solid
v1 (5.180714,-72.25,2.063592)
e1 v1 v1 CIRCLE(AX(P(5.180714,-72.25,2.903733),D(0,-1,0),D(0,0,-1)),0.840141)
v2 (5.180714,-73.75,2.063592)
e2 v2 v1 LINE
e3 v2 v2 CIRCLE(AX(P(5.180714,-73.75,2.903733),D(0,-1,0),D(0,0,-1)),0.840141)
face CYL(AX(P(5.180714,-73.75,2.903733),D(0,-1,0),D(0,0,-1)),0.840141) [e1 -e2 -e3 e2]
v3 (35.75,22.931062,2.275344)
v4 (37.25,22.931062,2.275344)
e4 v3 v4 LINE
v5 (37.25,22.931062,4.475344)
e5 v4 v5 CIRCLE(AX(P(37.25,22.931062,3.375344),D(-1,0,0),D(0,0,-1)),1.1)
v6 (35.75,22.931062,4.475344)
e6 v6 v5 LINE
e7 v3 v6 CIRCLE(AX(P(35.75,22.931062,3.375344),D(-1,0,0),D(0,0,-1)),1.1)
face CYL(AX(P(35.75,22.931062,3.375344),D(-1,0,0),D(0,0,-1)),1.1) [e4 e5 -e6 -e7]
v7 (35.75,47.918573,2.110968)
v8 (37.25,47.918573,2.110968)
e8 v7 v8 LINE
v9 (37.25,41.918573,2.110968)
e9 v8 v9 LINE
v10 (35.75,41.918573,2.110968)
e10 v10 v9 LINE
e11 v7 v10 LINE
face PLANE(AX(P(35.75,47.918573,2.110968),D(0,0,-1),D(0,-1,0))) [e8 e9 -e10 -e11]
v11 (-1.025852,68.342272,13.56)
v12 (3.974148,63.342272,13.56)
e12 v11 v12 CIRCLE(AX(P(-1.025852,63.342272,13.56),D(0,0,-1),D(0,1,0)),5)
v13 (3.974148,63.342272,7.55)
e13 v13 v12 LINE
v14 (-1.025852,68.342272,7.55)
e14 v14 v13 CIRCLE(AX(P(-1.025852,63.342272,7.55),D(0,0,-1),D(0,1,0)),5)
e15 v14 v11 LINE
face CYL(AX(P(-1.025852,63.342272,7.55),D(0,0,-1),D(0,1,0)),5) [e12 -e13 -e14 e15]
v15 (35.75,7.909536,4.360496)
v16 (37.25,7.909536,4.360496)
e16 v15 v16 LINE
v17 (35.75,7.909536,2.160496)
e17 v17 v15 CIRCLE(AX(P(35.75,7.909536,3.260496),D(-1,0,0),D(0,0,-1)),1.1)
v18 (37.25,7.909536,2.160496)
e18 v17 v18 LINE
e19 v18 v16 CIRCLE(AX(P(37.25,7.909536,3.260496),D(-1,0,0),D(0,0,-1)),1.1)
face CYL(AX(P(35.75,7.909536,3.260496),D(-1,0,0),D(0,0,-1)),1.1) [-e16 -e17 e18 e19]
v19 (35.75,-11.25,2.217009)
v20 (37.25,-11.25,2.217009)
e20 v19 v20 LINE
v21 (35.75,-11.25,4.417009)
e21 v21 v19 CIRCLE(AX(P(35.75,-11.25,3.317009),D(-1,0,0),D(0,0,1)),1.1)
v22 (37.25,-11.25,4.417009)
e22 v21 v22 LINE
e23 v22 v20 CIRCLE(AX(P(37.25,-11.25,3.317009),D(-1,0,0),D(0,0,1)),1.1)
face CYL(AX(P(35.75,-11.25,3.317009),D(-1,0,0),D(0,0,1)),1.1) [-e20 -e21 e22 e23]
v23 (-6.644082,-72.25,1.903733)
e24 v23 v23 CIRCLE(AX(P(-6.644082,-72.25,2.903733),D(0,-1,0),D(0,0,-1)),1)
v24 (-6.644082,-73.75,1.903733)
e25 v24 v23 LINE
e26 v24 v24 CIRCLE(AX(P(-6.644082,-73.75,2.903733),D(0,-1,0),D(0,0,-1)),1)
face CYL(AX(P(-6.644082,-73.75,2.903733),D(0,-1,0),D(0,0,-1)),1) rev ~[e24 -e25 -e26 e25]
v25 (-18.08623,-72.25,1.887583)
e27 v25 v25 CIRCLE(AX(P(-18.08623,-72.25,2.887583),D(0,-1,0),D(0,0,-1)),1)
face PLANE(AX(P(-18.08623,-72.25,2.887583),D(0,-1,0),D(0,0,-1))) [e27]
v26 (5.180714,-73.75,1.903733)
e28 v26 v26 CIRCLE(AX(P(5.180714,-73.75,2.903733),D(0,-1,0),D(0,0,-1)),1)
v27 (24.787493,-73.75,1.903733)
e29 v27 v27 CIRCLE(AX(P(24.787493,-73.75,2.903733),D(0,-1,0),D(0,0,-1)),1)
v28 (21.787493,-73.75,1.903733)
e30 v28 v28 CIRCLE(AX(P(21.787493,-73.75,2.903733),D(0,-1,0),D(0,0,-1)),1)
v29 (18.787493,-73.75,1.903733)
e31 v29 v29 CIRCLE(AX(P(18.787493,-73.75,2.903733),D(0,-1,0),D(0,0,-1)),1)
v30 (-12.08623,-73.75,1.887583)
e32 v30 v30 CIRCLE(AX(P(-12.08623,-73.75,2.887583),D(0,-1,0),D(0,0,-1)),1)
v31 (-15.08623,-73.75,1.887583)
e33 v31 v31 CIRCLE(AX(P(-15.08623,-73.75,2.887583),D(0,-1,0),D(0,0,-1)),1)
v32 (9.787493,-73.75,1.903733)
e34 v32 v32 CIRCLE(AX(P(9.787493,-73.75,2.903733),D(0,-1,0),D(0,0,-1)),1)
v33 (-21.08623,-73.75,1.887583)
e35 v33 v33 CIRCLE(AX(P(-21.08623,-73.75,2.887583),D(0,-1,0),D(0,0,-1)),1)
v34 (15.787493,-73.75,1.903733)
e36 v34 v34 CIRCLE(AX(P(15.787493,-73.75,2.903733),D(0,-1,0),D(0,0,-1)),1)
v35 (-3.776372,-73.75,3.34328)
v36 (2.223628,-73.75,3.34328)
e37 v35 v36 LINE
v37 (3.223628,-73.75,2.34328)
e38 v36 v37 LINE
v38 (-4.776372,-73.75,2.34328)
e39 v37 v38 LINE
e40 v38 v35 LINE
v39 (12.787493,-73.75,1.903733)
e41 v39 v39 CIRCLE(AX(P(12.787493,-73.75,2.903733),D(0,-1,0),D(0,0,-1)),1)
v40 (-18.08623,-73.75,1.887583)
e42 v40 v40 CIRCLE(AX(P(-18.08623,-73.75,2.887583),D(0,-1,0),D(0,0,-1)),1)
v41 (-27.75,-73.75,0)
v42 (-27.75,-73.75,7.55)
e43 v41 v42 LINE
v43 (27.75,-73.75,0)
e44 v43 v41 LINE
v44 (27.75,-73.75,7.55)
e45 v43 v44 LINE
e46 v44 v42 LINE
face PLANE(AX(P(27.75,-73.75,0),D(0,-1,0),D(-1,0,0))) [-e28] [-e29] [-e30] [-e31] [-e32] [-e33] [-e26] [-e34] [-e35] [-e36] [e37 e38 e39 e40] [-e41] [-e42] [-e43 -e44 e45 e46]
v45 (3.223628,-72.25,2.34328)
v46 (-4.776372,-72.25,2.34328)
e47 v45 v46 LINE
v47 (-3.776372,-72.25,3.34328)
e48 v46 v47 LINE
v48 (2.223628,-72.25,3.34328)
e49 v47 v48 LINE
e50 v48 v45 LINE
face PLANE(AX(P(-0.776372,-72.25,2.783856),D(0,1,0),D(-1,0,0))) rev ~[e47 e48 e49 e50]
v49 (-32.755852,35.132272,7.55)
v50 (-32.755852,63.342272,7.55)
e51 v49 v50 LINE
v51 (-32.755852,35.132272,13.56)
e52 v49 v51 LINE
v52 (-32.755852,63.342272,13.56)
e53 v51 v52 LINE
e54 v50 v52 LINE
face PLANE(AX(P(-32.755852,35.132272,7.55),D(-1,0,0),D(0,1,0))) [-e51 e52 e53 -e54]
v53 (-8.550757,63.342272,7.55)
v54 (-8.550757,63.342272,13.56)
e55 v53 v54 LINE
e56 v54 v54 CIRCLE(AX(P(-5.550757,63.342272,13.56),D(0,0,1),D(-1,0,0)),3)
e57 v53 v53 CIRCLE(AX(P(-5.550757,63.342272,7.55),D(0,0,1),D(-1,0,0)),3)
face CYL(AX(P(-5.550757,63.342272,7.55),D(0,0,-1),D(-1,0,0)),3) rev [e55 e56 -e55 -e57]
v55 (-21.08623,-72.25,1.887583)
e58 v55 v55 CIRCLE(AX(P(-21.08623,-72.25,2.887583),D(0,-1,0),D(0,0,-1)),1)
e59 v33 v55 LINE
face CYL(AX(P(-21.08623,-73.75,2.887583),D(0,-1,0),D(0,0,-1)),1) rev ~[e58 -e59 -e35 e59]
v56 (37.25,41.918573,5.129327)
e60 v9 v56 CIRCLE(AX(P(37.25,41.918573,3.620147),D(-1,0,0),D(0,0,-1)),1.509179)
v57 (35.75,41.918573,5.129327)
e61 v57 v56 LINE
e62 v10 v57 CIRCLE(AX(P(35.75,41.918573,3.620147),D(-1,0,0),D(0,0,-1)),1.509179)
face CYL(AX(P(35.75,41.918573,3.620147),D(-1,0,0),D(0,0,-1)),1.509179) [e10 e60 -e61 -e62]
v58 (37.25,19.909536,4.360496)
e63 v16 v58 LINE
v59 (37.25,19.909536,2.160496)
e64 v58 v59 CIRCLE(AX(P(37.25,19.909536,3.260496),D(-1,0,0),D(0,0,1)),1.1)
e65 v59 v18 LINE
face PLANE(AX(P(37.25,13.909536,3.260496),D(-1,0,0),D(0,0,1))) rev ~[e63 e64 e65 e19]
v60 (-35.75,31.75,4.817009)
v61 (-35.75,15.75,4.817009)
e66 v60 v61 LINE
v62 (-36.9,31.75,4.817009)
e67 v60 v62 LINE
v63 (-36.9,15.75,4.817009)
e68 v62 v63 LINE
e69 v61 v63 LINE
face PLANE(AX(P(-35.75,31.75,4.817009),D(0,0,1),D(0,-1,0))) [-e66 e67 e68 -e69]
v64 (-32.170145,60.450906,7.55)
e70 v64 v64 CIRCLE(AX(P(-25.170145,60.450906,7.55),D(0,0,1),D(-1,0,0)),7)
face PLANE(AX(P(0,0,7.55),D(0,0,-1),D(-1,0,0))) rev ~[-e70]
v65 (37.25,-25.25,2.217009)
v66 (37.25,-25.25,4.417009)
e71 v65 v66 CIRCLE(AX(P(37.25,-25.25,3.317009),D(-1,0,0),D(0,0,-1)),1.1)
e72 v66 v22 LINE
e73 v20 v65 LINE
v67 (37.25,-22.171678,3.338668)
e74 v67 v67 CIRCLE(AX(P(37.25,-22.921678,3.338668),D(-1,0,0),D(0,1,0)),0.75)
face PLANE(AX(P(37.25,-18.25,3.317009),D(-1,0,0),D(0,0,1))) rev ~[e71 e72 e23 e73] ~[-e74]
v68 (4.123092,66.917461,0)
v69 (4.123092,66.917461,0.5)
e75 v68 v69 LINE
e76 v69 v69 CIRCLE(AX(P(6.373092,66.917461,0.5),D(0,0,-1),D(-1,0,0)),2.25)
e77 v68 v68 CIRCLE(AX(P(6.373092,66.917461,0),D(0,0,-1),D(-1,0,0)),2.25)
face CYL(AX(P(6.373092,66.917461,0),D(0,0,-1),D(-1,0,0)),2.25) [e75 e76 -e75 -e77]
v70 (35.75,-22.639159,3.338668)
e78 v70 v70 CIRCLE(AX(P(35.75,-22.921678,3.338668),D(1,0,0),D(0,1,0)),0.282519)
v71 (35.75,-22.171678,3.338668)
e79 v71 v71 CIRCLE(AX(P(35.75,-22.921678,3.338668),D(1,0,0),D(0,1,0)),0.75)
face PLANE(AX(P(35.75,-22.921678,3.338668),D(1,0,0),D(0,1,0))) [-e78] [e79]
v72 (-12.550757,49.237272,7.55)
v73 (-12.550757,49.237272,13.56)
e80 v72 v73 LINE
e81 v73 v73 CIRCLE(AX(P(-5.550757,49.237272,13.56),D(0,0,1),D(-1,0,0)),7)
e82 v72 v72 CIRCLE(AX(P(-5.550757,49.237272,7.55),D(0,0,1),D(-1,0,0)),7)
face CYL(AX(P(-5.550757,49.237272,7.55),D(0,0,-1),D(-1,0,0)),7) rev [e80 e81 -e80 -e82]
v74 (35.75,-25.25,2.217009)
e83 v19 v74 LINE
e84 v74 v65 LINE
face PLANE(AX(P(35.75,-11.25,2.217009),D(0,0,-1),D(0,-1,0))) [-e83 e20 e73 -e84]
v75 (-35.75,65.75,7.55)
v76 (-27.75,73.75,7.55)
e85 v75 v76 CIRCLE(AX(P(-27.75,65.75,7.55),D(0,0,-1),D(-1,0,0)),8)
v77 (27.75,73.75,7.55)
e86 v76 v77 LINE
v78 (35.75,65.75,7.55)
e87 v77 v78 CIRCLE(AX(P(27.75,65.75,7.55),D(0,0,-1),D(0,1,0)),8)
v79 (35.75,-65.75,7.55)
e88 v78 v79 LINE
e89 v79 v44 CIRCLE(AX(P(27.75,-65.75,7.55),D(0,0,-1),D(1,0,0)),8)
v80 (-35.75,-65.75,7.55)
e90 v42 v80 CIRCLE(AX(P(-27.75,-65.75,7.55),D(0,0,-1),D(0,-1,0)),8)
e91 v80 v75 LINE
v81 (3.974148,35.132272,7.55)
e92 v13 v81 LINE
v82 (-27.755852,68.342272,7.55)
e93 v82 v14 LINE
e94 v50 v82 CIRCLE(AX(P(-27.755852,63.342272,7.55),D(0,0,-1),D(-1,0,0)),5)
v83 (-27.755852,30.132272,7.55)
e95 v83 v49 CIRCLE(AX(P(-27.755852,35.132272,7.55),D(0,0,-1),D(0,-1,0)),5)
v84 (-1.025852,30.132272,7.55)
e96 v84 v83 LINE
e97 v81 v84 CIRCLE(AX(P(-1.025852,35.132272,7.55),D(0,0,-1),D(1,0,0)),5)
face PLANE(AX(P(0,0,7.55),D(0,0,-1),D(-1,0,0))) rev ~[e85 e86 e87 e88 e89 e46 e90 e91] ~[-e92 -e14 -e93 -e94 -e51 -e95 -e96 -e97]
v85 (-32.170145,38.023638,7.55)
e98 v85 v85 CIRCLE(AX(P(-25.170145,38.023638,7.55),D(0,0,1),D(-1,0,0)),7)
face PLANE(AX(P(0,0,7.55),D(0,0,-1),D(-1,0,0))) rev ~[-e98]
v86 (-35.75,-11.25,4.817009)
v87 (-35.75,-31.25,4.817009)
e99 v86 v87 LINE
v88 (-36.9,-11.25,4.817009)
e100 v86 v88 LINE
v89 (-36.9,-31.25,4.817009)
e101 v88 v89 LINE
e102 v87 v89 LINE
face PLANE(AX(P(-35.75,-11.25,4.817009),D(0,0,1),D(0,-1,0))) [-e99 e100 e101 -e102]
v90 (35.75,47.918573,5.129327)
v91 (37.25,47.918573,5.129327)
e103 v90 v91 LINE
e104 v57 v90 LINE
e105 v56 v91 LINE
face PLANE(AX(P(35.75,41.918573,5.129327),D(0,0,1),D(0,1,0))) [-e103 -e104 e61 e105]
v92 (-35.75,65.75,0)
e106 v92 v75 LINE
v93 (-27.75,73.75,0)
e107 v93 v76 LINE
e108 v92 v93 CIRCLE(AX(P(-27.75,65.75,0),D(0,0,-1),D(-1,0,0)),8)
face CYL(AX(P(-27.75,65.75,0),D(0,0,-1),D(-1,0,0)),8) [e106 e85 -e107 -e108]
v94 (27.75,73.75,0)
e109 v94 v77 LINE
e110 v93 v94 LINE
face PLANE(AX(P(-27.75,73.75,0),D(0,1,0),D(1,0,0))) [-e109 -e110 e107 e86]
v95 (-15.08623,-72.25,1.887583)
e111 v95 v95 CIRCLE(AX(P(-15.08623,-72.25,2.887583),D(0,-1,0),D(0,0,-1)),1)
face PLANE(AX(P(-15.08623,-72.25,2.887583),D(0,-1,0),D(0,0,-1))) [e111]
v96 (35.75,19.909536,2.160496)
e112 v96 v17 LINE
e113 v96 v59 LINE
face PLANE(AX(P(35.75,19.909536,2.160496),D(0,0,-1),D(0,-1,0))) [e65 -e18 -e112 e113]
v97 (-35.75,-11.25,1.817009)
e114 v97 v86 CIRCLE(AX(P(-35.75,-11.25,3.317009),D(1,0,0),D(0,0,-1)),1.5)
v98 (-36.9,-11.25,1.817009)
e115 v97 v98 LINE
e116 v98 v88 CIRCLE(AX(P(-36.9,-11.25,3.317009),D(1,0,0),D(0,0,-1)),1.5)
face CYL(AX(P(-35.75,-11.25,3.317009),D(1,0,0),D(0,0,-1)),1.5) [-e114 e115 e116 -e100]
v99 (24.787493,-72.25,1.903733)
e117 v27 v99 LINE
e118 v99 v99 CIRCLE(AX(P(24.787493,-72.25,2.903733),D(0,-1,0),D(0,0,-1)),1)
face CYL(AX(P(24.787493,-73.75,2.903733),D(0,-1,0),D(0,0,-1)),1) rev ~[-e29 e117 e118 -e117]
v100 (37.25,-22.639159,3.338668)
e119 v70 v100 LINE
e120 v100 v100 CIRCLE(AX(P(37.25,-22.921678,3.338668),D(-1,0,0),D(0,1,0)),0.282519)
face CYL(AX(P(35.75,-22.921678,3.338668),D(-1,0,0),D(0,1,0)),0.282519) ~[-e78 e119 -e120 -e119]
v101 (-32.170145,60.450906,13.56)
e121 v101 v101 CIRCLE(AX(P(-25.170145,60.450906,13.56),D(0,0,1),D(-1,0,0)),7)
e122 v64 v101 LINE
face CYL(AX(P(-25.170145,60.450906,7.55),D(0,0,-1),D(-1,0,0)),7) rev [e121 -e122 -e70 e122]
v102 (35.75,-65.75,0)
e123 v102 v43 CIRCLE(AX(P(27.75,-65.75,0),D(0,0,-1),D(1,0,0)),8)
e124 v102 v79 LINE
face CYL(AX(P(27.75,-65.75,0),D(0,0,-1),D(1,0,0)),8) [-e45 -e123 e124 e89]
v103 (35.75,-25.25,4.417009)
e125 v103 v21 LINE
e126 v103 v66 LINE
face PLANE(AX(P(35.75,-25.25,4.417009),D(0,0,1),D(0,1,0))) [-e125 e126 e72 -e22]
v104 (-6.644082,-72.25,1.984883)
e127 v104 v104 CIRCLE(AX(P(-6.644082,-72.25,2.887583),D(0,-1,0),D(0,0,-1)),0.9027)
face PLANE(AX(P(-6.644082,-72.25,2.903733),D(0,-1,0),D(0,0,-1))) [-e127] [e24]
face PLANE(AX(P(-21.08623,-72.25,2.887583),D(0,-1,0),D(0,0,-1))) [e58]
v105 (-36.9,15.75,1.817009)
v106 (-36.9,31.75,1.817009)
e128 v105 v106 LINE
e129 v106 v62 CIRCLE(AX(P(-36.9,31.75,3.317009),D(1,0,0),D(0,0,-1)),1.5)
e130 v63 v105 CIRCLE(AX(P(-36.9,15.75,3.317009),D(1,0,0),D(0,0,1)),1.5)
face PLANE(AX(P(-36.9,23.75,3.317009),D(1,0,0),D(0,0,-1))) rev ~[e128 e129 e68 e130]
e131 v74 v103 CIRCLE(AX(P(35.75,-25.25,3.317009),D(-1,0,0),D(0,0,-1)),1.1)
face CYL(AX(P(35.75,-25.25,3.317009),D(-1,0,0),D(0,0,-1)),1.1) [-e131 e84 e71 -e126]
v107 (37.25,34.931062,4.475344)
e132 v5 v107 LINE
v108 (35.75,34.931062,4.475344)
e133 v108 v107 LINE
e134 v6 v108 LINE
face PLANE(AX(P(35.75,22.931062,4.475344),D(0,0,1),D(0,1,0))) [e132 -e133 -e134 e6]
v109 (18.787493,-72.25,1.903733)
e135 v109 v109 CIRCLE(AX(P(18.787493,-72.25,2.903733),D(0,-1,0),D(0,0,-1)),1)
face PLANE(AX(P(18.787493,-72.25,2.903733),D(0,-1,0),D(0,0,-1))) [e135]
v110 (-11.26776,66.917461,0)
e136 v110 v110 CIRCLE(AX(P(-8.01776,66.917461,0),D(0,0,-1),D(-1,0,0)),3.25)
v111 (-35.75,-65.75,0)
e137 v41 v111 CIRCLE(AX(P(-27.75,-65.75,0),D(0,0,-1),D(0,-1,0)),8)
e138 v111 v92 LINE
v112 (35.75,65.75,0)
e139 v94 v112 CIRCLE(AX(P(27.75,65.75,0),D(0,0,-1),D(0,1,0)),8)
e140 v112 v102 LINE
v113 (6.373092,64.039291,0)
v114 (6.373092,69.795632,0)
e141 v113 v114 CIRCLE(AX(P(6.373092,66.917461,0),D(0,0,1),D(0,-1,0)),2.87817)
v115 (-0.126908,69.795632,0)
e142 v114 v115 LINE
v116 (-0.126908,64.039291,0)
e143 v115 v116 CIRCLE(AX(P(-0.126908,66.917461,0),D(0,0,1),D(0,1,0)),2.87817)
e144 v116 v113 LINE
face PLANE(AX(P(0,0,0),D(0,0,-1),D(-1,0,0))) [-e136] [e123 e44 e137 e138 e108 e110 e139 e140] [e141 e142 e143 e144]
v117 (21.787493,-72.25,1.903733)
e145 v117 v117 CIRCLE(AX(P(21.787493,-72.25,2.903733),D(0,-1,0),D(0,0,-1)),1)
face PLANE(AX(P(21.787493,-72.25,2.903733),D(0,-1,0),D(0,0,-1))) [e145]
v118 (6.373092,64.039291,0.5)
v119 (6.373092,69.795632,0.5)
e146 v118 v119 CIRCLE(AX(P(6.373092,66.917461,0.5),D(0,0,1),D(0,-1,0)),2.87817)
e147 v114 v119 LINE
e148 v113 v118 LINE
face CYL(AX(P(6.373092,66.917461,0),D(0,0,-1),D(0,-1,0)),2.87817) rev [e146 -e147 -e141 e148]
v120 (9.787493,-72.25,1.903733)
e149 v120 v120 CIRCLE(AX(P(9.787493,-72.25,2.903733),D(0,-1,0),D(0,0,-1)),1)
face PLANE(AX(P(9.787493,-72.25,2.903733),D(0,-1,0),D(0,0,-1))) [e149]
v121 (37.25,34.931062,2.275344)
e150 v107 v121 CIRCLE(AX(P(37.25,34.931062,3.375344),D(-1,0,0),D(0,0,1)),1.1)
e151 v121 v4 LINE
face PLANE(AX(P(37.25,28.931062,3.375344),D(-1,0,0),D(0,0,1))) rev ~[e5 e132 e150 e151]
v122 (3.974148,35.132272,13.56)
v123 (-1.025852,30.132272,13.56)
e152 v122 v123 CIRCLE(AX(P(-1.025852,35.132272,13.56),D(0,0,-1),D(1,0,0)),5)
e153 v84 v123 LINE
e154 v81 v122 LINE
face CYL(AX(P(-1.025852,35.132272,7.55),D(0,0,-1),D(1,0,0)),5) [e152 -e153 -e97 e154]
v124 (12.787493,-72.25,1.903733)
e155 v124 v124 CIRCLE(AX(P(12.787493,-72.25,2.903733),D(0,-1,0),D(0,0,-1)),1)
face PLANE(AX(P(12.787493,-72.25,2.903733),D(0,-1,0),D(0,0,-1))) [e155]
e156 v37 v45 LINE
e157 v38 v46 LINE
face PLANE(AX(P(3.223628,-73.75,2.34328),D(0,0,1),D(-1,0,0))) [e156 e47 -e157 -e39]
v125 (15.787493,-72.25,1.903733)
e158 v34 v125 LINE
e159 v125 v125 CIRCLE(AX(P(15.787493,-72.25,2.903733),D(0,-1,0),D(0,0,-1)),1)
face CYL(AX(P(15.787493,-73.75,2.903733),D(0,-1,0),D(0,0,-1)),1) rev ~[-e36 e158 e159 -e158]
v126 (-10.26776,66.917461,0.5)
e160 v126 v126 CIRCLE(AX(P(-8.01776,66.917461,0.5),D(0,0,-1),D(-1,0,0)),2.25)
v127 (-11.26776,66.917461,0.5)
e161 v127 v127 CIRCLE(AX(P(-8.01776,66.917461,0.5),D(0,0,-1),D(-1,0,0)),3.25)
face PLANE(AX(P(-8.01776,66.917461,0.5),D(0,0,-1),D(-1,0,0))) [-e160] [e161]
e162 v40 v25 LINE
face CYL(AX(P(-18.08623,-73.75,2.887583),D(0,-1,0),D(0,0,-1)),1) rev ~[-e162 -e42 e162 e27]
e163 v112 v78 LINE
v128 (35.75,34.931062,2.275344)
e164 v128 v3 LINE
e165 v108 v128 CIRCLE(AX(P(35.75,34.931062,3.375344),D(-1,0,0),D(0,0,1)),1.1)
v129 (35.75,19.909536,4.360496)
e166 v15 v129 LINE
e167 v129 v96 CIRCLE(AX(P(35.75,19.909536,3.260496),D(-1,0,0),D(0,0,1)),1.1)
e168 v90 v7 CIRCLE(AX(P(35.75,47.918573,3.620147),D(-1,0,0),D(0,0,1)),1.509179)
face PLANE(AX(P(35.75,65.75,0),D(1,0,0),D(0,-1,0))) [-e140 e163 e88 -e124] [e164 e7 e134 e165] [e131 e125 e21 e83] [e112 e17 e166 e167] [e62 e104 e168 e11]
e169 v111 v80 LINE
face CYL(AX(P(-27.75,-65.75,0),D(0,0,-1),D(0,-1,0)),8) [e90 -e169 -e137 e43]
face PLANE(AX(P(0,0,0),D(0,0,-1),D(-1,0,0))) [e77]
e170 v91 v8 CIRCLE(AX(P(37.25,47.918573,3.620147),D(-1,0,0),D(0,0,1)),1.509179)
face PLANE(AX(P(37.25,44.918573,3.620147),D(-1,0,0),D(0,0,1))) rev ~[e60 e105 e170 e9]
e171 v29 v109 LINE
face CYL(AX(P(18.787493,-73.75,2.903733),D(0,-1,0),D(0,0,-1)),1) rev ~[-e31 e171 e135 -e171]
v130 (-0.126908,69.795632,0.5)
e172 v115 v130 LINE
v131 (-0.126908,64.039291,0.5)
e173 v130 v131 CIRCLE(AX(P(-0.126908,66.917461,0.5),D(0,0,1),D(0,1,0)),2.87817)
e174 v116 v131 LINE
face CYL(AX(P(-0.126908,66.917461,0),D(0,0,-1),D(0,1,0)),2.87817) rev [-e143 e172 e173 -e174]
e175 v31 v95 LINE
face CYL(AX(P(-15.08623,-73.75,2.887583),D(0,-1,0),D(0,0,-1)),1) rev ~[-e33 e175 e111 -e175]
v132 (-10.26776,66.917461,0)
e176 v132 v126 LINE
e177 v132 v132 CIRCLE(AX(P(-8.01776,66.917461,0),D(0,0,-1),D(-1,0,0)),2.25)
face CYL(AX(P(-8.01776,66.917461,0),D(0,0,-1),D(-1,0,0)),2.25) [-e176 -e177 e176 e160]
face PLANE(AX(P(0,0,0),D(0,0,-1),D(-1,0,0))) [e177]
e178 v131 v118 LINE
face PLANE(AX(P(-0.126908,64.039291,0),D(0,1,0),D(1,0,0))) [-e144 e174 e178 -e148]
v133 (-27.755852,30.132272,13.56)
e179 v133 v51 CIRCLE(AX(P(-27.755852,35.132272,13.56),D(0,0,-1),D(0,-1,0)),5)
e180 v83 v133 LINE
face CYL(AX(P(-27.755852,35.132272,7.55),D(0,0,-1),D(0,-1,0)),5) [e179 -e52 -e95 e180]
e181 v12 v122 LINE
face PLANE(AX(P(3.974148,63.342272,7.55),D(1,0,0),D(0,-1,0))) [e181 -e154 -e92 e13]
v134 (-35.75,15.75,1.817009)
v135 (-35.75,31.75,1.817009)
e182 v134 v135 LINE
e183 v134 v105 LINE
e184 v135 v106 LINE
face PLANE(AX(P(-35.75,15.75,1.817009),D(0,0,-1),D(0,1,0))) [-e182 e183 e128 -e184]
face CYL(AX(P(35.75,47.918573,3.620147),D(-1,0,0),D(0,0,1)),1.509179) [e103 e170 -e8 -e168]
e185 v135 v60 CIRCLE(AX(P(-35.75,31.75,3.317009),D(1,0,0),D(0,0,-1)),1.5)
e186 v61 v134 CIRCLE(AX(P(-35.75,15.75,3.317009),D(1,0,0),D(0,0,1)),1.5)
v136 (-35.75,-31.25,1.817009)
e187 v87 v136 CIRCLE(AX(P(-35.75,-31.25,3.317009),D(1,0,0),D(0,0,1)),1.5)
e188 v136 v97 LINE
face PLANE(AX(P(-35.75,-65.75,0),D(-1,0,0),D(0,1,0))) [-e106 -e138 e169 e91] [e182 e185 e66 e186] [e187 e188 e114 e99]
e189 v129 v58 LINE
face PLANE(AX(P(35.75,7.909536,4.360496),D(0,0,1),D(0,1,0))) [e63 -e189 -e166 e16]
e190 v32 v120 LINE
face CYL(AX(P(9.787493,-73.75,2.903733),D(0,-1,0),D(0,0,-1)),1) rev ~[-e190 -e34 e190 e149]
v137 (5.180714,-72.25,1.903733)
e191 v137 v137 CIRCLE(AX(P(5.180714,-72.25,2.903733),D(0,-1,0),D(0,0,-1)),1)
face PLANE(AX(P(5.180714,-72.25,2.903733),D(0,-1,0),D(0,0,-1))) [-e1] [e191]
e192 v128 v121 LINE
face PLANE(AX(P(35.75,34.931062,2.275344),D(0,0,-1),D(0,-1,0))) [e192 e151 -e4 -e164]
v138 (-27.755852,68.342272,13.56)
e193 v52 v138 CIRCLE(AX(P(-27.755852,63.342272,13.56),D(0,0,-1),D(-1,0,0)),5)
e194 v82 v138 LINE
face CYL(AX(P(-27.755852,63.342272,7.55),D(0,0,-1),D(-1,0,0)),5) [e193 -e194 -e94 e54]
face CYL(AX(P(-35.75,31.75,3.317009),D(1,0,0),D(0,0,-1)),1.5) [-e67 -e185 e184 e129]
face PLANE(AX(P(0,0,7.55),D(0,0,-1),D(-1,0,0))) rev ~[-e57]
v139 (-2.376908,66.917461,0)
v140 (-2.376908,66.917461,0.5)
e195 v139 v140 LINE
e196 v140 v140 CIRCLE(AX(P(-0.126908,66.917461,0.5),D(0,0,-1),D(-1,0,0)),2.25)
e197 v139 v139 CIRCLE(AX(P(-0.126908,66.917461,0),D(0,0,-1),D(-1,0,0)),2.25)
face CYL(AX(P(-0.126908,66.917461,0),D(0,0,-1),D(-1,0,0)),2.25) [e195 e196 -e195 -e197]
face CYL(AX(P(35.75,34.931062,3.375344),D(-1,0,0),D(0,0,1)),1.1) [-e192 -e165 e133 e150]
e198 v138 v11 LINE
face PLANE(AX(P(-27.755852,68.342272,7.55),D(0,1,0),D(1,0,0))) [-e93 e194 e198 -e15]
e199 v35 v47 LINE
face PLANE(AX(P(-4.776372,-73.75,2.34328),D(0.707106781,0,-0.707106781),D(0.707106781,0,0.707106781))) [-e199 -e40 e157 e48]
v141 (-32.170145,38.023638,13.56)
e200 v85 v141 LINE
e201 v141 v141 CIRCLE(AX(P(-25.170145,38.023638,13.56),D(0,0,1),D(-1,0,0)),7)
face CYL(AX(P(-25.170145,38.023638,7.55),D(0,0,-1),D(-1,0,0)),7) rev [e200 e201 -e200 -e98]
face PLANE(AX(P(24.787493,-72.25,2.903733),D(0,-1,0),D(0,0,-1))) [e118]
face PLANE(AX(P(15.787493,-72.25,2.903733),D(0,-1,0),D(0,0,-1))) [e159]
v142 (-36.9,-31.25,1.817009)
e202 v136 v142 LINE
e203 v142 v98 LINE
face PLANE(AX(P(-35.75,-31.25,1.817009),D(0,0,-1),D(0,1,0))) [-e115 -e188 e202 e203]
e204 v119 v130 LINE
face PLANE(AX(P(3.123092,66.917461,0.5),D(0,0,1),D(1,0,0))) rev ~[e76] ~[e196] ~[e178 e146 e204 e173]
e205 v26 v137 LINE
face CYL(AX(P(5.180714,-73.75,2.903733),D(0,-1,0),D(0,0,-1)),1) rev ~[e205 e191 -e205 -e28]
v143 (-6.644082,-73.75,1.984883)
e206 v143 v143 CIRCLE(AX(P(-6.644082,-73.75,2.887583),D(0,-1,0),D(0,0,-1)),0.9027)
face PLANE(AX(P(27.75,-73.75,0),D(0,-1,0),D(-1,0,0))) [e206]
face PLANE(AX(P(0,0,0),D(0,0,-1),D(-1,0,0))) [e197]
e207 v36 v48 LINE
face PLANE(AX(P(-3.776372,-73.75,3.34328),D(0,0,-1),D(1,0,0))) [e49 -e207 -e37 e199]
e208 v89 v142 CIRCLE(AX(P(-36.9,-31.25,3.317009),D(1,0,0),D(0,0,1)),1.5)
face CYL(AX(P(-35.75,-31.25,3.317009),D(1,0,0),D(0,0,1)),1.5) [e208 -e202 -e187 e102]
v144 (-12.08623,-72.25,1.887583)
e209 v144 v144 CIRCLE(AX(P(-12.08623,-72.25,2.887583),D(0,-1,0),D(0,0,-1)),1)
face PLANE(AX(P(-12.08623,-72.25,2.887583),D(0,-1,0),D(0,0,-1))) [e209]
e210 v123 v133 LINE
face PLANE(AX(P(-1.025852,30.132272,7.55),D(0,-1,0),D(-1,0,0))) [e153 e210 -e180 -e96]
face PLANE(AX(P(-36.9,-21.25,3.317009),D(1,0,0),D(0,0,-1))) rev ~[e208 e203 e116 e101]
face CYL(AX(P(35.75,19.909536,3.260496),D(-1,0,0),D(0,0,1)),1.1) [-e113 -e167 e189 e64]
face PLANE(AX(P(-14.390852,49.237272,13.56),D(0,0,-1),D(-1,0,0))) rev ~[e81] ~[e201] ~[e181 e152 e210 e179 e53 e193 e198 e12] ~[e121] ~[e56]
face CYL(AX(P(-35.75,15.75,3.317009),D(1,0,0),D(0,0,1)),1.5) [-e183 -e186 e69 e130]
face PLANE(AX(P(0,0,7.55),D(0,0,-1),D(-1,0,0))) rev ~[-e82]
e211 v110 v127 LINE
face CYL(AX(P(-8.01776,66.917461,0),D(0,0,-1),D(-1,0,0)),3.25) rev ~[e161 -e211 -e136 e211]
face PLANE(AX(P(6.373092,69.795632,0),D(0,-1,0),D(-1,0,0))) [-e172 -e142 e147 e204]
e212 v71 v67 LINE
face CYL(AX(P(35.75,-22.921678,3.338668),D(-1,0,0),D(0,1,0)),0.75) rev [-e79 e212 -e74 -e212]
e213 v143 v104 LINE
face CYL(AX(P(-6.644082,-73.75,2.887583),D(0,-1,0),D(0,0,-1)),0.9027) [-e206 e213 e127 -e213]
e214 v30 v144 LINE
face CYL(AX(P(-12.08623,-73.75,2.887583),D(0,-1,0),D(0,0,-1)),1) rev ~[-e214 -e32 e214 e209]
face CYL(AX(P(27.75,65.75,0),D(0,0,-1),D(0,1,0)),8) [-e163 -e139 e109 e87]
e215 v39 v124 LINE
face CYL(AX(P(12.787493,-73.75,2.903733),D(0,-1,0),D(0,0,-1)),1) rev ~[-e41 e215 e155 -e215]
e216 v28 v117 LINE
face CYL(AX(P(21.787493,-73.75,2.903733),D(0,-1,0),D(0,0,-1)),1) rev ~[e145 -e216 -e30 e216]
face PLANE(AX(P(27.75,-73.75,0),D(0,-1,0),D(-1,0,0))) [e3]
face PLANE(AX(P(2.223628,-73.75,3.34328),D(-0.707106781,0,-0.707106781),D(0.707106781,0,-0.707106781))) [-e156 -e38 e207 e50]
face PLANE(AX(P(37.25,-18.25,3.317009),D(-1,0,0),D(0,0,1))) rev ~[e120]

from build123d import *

# Parameters (mm, degrees)
BOSS_EXTRUDE1_DEPTH = 7.55
SKETCH4_R           = 3
SKETCH4_R_2         = 7
BOSS_EXTRUDE2_DEPTH = 6.01
SKETCH5_R           = 3.25
SKETCH5_R_2         = 2.25
CUT_EXTRUDE1_DEPTH  = 0.5
BOSS_EXTRUDE3_DEPTH = 1.15
BOSS_EXTRUDE4_DEPTH = 1.5
BOSS_EXTRUDE5_DEPTH = 1.5
BOSS_EXTRUDE6_DEPTH = 1.5
BOSS_EXTRUDE7_DEPTH = 1.5
SKETCH15_R          = 0.75
SKETCH15_R_2        = 0.282518913
CUT_EXTRUDE2_DEPTH  = 105.40765585
SKETCH16_R          = 1
SKETCH16_R_2        = 0.902700303
SKETCH16_R_3        = 0.840140681
CUT_EXTRUDE3_DEPTH  = 1.5


with BuildPart() as part:
    # Sketch2 → Boss-Extrude1 (new body)
    with BuildSketch(Plane.XY):
        with BuildLine():
            Line((-27.75, 73.75), (27.75, 73.75))
            ThreePointArc((27.75, 73.75), (33.406854249, 71.406854249), (35.75, 65.75))
            Line((35.75, 65.75), (35.75, -65.75))
            ThreePointArc((35.75, -65.75), (33.406854249, -71.406854249), (27.75, -73.75))
            Line((27.75, -73.75), (-27.75, -73.75))
            ThreePointArc((-27.75, -73.75), (-33.406854249, -71.406854249), (-35.75, -65.75))
            Line((-35.75, -65.75), (-35.75, 65.75))
            ThreePointArc((-35.75, 65.75), (-33.406854249, 71.406854249), (-27.75, 73.75))
        make_face()
    extrude(amount=BOSS_EXTRUDE1_DEPTH)

    # Sketch4 → Boss-Extrude2 (add)
    with BuildSketch(Plane.XY.offset(7.55)):
        with BuildLine():
            ThreePointArc((-1.025851878, 68.342271784), (2.509682028, 66.87780569), (3.974148122, 63.342271784))
            Line((3.974148122, 63.342271784), (3.974148122, 35.132271784))
            ThreePointArc((3.974148122, 35.132271784), (2.509682028, 31.596737878), (-1.025851878, 30.132271784))
            Line((-1.025851878, 30.132271784), (-27.755851878, 30.132271784))
            ThreePointArc((-27.755851878, 30.132271784), (-31.291385784, 31.596737878), (-32.755851878, 35.132271784))
            Line((-32.755851878, 35.132271784), (-32.755851878, 63.342271784))
            ThreePointArc((-32.755851878, 63.342271784), (-31.291385784, 66.87780569), (-27.755851878, 68.342271784))
            Line((-27.755851878, 68.342271784), (-1.025851878, 68.342271784))
        make_face()
        with Locations(Location((-5.550757153, 63.342271784, 0), (0, 0, 180))):
            Circle(SKETCH4_R, mode=Mode.SUBTRACT)
        with Locations(Location((-5.550757153, 49.237271784, 0), (0, 0, 180))):
            Circle(SKETCH4_R_2, mode=Mode.SUBTRACT)
        with Locations(Location((-25.170144884, 38.02363754, 0), (0, 0, 180))):
            Circle(SKETCH4_R_2, mode=Mode.SUBTRACT)
        with Locations(Location((-25.170144884, 60.450906027, 0), (0, 0, 180))):
            Circle(SKETCH4_R_2, mode=Mode.SUBTRACT)
    extrude(amount=BOSS_EXTRUDE2_DEPTH)

    # Sketch5 → Cut-Extrude1 (cut)
    # profile 1 of 2: a face of its own
    with BuildSketch(Plane(origin=(0, 0, 0), x_dir=(-1, 0, 0), z_dir=(0, 0, -1))):
        with Locations((8.017760332, 66.917461234)):
            Circle(SKETCH5_R)
        with Locations((8.017760332, 66.917461234)):
            Circle(SKETCH5_R_2, mode=Mode.SUBTRACT)
    # profile 2 of 2: a face of its own
    with BuildSketch(Plane(origin=(0, 0, 0), x_dir=(-1, 0, 0), z_dir=(0, 0, -1))):
        with BuildLine():
            Line((0.126908454, 64.039290859), (-6.373091546, 64.039290859))
            ThreePointArc((-6.373091546, 64.039290859), (-9.251261922, 66.917461234), (-6.373091546, 69.79563161))
            Line((-6.373091546, 69.79563161), (0.126908454, 69.79563161))
            ThreePointArc((0.126908454, 69.79563161), (3.00507883, 66.917461234), (0.126908454, 64.039290859))
        make_face()
        with Locations((0.126908454, 66.917461234)):
            Circle(SKETCH5_R_2, mode=Mode.SUBTRACT)
        with Locations((-6.373091546, 66.917461234)):
            Circle(SKETCH5_R_2, mode=Mode.SUBTRACT)
    extrude(amount=-CUT_EXTRUDE1_DEPTH, mode=Mode.SUBTRACT)

    # Sketch6 → Boss-Extrude3 (add)
    with BuildSketch(Plane.ZY.offset(35.75)):
        with BuildLine():
            Line((1.817009034, 15.75), (1.817009034, 31.75))
            ThreePointArc((1.817009034, 31.75), (3.317009034, 33.25), (4.817009034, 31.75))
            Line((4.817009034, 31.75), (4.817009034, 15.75))
            ThreePointArc((4.817009034, 15.75), (3.317009034, 14.25), (1.817009034, 15.75))
        make_face()
        with BuildLine():
            Line((1.817009034, -31.25), (1.817009034, -11.25))
            ThreePointArc((1.817009034, -11.25), (3.317009034, -9.75), (4.817009034, -11.25))
            Line((4.817009034, -11.25), (4.817009034, -31.25))
            ThreePointArc((4.817009034, -31.25), (3.317009034, -32.75), (1.817009034, -31.25))
        make_face()
    extrude(amount=BOSS_EXTRUDE3_DEPTH)

    # Sketch11 → Boss-Extrude4 (add)
    with BuildSketch(Plane(origin=(35.75, 0, 0), x_dir=(0, 0, -1), z_dir=(1, 0, 0))):
        with BuildLine():
            Line((-2.110967664, 47.91857343), (-2.110967664, 41.91857343))
            ThreePointArc((-2.110967664, 41.91857343), (-3.620147118, 40.409393977), (-5.129326571, 41.91857343))
            Line((-5.129326571, 41.91857343), (-5.129326571, 47.91857343))
            ThreePointArc((-5.129326571, 47.91857343), (-3.620147118, 49.427752884), (-2.110967664, 47.91857343))
        make_face()
    extrude(amount=BOSS_EXTRUDE4_DEPTH)

    # Sketch12 → Boss-Extrude5 (add)
    with BuildSketch(Plane(origin=(35.75, 0, 0), x_dir=(0, 0, -1), z_dir=(1, 0, 0))):
        with BuildLine():
            Line((-2.275343981, 34.931061823), (-2.275343981, 22.931061823))
            ThreePointArc((-2.275343981, 22.931061823), (-3.375343981, 21.831061823), (-4.475343981, 22.931061823))
            Line((-4.475343981, 22.931061823), (-4.475343981, 34.931061823))
            ThreePointArc((-4.475343981, 34.931061823), (-3.375343981, 36.031061823), (-2.275343981, 34.931061823))
        make_face()
    extrude(amount=BOSS_EXTRUDE5_DEPTH)

    # Sketch13 → Boss-Extrude6 (add)
    with BuildSketch(Plane(origin=(35.75, 0, 0), x_dir=(0, 0, -1), z_dir=(1, 0, 0))):
        with BuildLine():
            Line((-2.160495945, 19.909535664), (-2.160495945, 7.909535664))
            ThreePointArc((-2.160495945, 7.909535664), (-3.260495945, 6.809535664), (-4.360495945, 7.909535664))
            Line((-4.360495945, 7.909535664), (-4.360495945, 19.909535664))
            ThreePointArc((-4.360495945, 19.909535664), (-3.260495945, 21.009535664), (-2.160495945, 19.909535664))
        make_face()
    extrude(amount=BOSS_EXTRUDE6_DEPTH)

    # Sketch14 → Boss-Extrude7 (add)
    with BuildSketch(Plane(origin=(35.75, 0, 0), x_dir=(0, 0, -1), z_dir=(1, 0, 0))):
        with BuildLine():
            Line((-2.217009034, -11.25), (-2.217009034, -25.25))
            ThreePointArc((-2.217009034, -25.25), (-3.317009034, -26.35), (-4.417009034, -25.25))
            Line((-4.417009034, -25.25), (-4.417009034, -11.25))
            ThreePointArc((-4.417009034, -11.25), (-3.317009034, -10.15), (-2.217009034, -11.25))
        make_face()
    extrude(amount=BOSS_EXTRUDE7_DEPTH)

    # Sketch15 → Cut-Extrude2 (cut, through all)
    with BuildSketch(Plane(origin=(35.75, 0, 0), x_dir=(0, 0, -1), z_dir=(1, 0, 0))):
        with Locations(Location((-3.338668138, -22.921678058, 0), (0, 0, 90))):
            Circle(SKETCH15_R)
        with Locations(Location((-3.338668138, -22.921678058, 0), (0, 0, 90))):
            Circle(SKETCH15_R_2, mode=Mode.SUBTRACT)
    extrude(amount=CUT_EXTRUDE2_DEPTH, mode=Mode.SUBTRACT)

    # Sketch16 → Cut-Extrude3 (cut)
    # profile 1 of 13: a face of its own
    with BuildSketch(Plane.XZ.offset(73.75)):
        with Locations(Location((-6.64408172, 2.903732575, 0), (0, 0, 270))):
            Circle(SKETCH16_R)
        with Locations(Location((-6.64408172, 2.887582834, 0), (0, 0, 270))):
            Circle(SKETCH16_R_2, mode=Mode.SUBTRACT)
    # profile 2 of 13: a face of its own
    with BuildSketch(Plane.XZ.offset(73.75)):
        with Locations(Location((5.180713546, 2.903732575, 0), (0, 0, 270))):
            Circle(SKETCH16_R)
        with Locations(Location((5.180713546, 2.903732575, 0), (0, 0, 270))):
            Circle(SKETCH16_R_3, mode=Mode.SUBTRACT)
    # profile 3 of 13: a face of its own
    with BuildSketch(Plane.XZ.offset(73.75)):
        with Locations(Location((-12.086230414, 2.887582834, 0), (0, 0, 270))):
            Circle(SKETCH16_R)
    # profile 4 of 13: a face of its own
    with BuildSketch(Plane.XZ.offset(73.75)):
        with Locations(Location((-15.086230414, 2.887582834, 0), (0, 0, 270))):
            Circle(SKETCH16_R)
    # profile 5 of 13: a face of its own
    with BuildSketch(Plane.XZ.offset(73.75)):
        with Locations(Location((-18.086230414, 2.887582834, 0), (0, 0, 270))):
            Circle(SKETCH16_R)
    # profile 6 of 13: a face of its own
    with BuildSketch(Plane.XZ.offset(73.75)):
        with Locations(Location((-21.086230414, 2.887582834, 0), (0, 0, 270))):
            Circle(SKETCH16_R)
    # profile 7 of 13: a face of its own
    with BuildSketch(Plane.XZ.offset(73.75)):
        with Locations(Location((24.787493313, 2.903732575, 0), (0, 0, 270))):
            Circle(SKETCH16_R)
    # profile 8 of 13: a face of its own
    with BuildSketch(Plane.XZ.offset(73.75)):
        with Locations(Location((21.787493313, 2.903732575, 0), (0, 0, 270))):
            Circle(SKETCH16_R)
    # profile 9 of 13: a face of its own
    with BuildSketch(Plane.XZ.offset(73.75)):
        with Locations(Location((18.787493313, 2.903732575, 0), (0, 0, 270))):
            Circle(SKETCH16_R)
    # profile 10 of 13: a face of its own
    with BuildSketch(Plane.XZ.offset(73.75)):
        with Locations(Location((15.787493313, 2.903732575, 0), (0, 0, 270))):
            Circle(SKETCH16_R)
    # profile 11 of 13: a face of its own
    with BuildSketch(Plane.XZ.offset(73.75)):
        with Locations(Location((12.787493313, 2.903732575, 0), (0, 0, 270))):
            Circle(SKETCH16_R)
    # profile 12 of 13: a face of its own
    with BuildSketch(Plane.XZ.offset(73.75)):
        with Locations(Location((9.787493313, 2.903732575, 0), (0, 0, 270))):
            Circle(SKETCH16_R)
    # profile 13 of 13: a face of its own
    with BuildSketch(Plane.XZ.offset(73.75)):
        Polygon((-3.776371679, 3.343279725), (2.223628321, 3.343279725), (3.223628321, 2.343279725), (-4.776371679, 2.343279725), align=None)
    extrude(amount=-CUT_EXTRUDE3_DEPTH, mode=Mode.SUBTRACT)


solid = part.part
